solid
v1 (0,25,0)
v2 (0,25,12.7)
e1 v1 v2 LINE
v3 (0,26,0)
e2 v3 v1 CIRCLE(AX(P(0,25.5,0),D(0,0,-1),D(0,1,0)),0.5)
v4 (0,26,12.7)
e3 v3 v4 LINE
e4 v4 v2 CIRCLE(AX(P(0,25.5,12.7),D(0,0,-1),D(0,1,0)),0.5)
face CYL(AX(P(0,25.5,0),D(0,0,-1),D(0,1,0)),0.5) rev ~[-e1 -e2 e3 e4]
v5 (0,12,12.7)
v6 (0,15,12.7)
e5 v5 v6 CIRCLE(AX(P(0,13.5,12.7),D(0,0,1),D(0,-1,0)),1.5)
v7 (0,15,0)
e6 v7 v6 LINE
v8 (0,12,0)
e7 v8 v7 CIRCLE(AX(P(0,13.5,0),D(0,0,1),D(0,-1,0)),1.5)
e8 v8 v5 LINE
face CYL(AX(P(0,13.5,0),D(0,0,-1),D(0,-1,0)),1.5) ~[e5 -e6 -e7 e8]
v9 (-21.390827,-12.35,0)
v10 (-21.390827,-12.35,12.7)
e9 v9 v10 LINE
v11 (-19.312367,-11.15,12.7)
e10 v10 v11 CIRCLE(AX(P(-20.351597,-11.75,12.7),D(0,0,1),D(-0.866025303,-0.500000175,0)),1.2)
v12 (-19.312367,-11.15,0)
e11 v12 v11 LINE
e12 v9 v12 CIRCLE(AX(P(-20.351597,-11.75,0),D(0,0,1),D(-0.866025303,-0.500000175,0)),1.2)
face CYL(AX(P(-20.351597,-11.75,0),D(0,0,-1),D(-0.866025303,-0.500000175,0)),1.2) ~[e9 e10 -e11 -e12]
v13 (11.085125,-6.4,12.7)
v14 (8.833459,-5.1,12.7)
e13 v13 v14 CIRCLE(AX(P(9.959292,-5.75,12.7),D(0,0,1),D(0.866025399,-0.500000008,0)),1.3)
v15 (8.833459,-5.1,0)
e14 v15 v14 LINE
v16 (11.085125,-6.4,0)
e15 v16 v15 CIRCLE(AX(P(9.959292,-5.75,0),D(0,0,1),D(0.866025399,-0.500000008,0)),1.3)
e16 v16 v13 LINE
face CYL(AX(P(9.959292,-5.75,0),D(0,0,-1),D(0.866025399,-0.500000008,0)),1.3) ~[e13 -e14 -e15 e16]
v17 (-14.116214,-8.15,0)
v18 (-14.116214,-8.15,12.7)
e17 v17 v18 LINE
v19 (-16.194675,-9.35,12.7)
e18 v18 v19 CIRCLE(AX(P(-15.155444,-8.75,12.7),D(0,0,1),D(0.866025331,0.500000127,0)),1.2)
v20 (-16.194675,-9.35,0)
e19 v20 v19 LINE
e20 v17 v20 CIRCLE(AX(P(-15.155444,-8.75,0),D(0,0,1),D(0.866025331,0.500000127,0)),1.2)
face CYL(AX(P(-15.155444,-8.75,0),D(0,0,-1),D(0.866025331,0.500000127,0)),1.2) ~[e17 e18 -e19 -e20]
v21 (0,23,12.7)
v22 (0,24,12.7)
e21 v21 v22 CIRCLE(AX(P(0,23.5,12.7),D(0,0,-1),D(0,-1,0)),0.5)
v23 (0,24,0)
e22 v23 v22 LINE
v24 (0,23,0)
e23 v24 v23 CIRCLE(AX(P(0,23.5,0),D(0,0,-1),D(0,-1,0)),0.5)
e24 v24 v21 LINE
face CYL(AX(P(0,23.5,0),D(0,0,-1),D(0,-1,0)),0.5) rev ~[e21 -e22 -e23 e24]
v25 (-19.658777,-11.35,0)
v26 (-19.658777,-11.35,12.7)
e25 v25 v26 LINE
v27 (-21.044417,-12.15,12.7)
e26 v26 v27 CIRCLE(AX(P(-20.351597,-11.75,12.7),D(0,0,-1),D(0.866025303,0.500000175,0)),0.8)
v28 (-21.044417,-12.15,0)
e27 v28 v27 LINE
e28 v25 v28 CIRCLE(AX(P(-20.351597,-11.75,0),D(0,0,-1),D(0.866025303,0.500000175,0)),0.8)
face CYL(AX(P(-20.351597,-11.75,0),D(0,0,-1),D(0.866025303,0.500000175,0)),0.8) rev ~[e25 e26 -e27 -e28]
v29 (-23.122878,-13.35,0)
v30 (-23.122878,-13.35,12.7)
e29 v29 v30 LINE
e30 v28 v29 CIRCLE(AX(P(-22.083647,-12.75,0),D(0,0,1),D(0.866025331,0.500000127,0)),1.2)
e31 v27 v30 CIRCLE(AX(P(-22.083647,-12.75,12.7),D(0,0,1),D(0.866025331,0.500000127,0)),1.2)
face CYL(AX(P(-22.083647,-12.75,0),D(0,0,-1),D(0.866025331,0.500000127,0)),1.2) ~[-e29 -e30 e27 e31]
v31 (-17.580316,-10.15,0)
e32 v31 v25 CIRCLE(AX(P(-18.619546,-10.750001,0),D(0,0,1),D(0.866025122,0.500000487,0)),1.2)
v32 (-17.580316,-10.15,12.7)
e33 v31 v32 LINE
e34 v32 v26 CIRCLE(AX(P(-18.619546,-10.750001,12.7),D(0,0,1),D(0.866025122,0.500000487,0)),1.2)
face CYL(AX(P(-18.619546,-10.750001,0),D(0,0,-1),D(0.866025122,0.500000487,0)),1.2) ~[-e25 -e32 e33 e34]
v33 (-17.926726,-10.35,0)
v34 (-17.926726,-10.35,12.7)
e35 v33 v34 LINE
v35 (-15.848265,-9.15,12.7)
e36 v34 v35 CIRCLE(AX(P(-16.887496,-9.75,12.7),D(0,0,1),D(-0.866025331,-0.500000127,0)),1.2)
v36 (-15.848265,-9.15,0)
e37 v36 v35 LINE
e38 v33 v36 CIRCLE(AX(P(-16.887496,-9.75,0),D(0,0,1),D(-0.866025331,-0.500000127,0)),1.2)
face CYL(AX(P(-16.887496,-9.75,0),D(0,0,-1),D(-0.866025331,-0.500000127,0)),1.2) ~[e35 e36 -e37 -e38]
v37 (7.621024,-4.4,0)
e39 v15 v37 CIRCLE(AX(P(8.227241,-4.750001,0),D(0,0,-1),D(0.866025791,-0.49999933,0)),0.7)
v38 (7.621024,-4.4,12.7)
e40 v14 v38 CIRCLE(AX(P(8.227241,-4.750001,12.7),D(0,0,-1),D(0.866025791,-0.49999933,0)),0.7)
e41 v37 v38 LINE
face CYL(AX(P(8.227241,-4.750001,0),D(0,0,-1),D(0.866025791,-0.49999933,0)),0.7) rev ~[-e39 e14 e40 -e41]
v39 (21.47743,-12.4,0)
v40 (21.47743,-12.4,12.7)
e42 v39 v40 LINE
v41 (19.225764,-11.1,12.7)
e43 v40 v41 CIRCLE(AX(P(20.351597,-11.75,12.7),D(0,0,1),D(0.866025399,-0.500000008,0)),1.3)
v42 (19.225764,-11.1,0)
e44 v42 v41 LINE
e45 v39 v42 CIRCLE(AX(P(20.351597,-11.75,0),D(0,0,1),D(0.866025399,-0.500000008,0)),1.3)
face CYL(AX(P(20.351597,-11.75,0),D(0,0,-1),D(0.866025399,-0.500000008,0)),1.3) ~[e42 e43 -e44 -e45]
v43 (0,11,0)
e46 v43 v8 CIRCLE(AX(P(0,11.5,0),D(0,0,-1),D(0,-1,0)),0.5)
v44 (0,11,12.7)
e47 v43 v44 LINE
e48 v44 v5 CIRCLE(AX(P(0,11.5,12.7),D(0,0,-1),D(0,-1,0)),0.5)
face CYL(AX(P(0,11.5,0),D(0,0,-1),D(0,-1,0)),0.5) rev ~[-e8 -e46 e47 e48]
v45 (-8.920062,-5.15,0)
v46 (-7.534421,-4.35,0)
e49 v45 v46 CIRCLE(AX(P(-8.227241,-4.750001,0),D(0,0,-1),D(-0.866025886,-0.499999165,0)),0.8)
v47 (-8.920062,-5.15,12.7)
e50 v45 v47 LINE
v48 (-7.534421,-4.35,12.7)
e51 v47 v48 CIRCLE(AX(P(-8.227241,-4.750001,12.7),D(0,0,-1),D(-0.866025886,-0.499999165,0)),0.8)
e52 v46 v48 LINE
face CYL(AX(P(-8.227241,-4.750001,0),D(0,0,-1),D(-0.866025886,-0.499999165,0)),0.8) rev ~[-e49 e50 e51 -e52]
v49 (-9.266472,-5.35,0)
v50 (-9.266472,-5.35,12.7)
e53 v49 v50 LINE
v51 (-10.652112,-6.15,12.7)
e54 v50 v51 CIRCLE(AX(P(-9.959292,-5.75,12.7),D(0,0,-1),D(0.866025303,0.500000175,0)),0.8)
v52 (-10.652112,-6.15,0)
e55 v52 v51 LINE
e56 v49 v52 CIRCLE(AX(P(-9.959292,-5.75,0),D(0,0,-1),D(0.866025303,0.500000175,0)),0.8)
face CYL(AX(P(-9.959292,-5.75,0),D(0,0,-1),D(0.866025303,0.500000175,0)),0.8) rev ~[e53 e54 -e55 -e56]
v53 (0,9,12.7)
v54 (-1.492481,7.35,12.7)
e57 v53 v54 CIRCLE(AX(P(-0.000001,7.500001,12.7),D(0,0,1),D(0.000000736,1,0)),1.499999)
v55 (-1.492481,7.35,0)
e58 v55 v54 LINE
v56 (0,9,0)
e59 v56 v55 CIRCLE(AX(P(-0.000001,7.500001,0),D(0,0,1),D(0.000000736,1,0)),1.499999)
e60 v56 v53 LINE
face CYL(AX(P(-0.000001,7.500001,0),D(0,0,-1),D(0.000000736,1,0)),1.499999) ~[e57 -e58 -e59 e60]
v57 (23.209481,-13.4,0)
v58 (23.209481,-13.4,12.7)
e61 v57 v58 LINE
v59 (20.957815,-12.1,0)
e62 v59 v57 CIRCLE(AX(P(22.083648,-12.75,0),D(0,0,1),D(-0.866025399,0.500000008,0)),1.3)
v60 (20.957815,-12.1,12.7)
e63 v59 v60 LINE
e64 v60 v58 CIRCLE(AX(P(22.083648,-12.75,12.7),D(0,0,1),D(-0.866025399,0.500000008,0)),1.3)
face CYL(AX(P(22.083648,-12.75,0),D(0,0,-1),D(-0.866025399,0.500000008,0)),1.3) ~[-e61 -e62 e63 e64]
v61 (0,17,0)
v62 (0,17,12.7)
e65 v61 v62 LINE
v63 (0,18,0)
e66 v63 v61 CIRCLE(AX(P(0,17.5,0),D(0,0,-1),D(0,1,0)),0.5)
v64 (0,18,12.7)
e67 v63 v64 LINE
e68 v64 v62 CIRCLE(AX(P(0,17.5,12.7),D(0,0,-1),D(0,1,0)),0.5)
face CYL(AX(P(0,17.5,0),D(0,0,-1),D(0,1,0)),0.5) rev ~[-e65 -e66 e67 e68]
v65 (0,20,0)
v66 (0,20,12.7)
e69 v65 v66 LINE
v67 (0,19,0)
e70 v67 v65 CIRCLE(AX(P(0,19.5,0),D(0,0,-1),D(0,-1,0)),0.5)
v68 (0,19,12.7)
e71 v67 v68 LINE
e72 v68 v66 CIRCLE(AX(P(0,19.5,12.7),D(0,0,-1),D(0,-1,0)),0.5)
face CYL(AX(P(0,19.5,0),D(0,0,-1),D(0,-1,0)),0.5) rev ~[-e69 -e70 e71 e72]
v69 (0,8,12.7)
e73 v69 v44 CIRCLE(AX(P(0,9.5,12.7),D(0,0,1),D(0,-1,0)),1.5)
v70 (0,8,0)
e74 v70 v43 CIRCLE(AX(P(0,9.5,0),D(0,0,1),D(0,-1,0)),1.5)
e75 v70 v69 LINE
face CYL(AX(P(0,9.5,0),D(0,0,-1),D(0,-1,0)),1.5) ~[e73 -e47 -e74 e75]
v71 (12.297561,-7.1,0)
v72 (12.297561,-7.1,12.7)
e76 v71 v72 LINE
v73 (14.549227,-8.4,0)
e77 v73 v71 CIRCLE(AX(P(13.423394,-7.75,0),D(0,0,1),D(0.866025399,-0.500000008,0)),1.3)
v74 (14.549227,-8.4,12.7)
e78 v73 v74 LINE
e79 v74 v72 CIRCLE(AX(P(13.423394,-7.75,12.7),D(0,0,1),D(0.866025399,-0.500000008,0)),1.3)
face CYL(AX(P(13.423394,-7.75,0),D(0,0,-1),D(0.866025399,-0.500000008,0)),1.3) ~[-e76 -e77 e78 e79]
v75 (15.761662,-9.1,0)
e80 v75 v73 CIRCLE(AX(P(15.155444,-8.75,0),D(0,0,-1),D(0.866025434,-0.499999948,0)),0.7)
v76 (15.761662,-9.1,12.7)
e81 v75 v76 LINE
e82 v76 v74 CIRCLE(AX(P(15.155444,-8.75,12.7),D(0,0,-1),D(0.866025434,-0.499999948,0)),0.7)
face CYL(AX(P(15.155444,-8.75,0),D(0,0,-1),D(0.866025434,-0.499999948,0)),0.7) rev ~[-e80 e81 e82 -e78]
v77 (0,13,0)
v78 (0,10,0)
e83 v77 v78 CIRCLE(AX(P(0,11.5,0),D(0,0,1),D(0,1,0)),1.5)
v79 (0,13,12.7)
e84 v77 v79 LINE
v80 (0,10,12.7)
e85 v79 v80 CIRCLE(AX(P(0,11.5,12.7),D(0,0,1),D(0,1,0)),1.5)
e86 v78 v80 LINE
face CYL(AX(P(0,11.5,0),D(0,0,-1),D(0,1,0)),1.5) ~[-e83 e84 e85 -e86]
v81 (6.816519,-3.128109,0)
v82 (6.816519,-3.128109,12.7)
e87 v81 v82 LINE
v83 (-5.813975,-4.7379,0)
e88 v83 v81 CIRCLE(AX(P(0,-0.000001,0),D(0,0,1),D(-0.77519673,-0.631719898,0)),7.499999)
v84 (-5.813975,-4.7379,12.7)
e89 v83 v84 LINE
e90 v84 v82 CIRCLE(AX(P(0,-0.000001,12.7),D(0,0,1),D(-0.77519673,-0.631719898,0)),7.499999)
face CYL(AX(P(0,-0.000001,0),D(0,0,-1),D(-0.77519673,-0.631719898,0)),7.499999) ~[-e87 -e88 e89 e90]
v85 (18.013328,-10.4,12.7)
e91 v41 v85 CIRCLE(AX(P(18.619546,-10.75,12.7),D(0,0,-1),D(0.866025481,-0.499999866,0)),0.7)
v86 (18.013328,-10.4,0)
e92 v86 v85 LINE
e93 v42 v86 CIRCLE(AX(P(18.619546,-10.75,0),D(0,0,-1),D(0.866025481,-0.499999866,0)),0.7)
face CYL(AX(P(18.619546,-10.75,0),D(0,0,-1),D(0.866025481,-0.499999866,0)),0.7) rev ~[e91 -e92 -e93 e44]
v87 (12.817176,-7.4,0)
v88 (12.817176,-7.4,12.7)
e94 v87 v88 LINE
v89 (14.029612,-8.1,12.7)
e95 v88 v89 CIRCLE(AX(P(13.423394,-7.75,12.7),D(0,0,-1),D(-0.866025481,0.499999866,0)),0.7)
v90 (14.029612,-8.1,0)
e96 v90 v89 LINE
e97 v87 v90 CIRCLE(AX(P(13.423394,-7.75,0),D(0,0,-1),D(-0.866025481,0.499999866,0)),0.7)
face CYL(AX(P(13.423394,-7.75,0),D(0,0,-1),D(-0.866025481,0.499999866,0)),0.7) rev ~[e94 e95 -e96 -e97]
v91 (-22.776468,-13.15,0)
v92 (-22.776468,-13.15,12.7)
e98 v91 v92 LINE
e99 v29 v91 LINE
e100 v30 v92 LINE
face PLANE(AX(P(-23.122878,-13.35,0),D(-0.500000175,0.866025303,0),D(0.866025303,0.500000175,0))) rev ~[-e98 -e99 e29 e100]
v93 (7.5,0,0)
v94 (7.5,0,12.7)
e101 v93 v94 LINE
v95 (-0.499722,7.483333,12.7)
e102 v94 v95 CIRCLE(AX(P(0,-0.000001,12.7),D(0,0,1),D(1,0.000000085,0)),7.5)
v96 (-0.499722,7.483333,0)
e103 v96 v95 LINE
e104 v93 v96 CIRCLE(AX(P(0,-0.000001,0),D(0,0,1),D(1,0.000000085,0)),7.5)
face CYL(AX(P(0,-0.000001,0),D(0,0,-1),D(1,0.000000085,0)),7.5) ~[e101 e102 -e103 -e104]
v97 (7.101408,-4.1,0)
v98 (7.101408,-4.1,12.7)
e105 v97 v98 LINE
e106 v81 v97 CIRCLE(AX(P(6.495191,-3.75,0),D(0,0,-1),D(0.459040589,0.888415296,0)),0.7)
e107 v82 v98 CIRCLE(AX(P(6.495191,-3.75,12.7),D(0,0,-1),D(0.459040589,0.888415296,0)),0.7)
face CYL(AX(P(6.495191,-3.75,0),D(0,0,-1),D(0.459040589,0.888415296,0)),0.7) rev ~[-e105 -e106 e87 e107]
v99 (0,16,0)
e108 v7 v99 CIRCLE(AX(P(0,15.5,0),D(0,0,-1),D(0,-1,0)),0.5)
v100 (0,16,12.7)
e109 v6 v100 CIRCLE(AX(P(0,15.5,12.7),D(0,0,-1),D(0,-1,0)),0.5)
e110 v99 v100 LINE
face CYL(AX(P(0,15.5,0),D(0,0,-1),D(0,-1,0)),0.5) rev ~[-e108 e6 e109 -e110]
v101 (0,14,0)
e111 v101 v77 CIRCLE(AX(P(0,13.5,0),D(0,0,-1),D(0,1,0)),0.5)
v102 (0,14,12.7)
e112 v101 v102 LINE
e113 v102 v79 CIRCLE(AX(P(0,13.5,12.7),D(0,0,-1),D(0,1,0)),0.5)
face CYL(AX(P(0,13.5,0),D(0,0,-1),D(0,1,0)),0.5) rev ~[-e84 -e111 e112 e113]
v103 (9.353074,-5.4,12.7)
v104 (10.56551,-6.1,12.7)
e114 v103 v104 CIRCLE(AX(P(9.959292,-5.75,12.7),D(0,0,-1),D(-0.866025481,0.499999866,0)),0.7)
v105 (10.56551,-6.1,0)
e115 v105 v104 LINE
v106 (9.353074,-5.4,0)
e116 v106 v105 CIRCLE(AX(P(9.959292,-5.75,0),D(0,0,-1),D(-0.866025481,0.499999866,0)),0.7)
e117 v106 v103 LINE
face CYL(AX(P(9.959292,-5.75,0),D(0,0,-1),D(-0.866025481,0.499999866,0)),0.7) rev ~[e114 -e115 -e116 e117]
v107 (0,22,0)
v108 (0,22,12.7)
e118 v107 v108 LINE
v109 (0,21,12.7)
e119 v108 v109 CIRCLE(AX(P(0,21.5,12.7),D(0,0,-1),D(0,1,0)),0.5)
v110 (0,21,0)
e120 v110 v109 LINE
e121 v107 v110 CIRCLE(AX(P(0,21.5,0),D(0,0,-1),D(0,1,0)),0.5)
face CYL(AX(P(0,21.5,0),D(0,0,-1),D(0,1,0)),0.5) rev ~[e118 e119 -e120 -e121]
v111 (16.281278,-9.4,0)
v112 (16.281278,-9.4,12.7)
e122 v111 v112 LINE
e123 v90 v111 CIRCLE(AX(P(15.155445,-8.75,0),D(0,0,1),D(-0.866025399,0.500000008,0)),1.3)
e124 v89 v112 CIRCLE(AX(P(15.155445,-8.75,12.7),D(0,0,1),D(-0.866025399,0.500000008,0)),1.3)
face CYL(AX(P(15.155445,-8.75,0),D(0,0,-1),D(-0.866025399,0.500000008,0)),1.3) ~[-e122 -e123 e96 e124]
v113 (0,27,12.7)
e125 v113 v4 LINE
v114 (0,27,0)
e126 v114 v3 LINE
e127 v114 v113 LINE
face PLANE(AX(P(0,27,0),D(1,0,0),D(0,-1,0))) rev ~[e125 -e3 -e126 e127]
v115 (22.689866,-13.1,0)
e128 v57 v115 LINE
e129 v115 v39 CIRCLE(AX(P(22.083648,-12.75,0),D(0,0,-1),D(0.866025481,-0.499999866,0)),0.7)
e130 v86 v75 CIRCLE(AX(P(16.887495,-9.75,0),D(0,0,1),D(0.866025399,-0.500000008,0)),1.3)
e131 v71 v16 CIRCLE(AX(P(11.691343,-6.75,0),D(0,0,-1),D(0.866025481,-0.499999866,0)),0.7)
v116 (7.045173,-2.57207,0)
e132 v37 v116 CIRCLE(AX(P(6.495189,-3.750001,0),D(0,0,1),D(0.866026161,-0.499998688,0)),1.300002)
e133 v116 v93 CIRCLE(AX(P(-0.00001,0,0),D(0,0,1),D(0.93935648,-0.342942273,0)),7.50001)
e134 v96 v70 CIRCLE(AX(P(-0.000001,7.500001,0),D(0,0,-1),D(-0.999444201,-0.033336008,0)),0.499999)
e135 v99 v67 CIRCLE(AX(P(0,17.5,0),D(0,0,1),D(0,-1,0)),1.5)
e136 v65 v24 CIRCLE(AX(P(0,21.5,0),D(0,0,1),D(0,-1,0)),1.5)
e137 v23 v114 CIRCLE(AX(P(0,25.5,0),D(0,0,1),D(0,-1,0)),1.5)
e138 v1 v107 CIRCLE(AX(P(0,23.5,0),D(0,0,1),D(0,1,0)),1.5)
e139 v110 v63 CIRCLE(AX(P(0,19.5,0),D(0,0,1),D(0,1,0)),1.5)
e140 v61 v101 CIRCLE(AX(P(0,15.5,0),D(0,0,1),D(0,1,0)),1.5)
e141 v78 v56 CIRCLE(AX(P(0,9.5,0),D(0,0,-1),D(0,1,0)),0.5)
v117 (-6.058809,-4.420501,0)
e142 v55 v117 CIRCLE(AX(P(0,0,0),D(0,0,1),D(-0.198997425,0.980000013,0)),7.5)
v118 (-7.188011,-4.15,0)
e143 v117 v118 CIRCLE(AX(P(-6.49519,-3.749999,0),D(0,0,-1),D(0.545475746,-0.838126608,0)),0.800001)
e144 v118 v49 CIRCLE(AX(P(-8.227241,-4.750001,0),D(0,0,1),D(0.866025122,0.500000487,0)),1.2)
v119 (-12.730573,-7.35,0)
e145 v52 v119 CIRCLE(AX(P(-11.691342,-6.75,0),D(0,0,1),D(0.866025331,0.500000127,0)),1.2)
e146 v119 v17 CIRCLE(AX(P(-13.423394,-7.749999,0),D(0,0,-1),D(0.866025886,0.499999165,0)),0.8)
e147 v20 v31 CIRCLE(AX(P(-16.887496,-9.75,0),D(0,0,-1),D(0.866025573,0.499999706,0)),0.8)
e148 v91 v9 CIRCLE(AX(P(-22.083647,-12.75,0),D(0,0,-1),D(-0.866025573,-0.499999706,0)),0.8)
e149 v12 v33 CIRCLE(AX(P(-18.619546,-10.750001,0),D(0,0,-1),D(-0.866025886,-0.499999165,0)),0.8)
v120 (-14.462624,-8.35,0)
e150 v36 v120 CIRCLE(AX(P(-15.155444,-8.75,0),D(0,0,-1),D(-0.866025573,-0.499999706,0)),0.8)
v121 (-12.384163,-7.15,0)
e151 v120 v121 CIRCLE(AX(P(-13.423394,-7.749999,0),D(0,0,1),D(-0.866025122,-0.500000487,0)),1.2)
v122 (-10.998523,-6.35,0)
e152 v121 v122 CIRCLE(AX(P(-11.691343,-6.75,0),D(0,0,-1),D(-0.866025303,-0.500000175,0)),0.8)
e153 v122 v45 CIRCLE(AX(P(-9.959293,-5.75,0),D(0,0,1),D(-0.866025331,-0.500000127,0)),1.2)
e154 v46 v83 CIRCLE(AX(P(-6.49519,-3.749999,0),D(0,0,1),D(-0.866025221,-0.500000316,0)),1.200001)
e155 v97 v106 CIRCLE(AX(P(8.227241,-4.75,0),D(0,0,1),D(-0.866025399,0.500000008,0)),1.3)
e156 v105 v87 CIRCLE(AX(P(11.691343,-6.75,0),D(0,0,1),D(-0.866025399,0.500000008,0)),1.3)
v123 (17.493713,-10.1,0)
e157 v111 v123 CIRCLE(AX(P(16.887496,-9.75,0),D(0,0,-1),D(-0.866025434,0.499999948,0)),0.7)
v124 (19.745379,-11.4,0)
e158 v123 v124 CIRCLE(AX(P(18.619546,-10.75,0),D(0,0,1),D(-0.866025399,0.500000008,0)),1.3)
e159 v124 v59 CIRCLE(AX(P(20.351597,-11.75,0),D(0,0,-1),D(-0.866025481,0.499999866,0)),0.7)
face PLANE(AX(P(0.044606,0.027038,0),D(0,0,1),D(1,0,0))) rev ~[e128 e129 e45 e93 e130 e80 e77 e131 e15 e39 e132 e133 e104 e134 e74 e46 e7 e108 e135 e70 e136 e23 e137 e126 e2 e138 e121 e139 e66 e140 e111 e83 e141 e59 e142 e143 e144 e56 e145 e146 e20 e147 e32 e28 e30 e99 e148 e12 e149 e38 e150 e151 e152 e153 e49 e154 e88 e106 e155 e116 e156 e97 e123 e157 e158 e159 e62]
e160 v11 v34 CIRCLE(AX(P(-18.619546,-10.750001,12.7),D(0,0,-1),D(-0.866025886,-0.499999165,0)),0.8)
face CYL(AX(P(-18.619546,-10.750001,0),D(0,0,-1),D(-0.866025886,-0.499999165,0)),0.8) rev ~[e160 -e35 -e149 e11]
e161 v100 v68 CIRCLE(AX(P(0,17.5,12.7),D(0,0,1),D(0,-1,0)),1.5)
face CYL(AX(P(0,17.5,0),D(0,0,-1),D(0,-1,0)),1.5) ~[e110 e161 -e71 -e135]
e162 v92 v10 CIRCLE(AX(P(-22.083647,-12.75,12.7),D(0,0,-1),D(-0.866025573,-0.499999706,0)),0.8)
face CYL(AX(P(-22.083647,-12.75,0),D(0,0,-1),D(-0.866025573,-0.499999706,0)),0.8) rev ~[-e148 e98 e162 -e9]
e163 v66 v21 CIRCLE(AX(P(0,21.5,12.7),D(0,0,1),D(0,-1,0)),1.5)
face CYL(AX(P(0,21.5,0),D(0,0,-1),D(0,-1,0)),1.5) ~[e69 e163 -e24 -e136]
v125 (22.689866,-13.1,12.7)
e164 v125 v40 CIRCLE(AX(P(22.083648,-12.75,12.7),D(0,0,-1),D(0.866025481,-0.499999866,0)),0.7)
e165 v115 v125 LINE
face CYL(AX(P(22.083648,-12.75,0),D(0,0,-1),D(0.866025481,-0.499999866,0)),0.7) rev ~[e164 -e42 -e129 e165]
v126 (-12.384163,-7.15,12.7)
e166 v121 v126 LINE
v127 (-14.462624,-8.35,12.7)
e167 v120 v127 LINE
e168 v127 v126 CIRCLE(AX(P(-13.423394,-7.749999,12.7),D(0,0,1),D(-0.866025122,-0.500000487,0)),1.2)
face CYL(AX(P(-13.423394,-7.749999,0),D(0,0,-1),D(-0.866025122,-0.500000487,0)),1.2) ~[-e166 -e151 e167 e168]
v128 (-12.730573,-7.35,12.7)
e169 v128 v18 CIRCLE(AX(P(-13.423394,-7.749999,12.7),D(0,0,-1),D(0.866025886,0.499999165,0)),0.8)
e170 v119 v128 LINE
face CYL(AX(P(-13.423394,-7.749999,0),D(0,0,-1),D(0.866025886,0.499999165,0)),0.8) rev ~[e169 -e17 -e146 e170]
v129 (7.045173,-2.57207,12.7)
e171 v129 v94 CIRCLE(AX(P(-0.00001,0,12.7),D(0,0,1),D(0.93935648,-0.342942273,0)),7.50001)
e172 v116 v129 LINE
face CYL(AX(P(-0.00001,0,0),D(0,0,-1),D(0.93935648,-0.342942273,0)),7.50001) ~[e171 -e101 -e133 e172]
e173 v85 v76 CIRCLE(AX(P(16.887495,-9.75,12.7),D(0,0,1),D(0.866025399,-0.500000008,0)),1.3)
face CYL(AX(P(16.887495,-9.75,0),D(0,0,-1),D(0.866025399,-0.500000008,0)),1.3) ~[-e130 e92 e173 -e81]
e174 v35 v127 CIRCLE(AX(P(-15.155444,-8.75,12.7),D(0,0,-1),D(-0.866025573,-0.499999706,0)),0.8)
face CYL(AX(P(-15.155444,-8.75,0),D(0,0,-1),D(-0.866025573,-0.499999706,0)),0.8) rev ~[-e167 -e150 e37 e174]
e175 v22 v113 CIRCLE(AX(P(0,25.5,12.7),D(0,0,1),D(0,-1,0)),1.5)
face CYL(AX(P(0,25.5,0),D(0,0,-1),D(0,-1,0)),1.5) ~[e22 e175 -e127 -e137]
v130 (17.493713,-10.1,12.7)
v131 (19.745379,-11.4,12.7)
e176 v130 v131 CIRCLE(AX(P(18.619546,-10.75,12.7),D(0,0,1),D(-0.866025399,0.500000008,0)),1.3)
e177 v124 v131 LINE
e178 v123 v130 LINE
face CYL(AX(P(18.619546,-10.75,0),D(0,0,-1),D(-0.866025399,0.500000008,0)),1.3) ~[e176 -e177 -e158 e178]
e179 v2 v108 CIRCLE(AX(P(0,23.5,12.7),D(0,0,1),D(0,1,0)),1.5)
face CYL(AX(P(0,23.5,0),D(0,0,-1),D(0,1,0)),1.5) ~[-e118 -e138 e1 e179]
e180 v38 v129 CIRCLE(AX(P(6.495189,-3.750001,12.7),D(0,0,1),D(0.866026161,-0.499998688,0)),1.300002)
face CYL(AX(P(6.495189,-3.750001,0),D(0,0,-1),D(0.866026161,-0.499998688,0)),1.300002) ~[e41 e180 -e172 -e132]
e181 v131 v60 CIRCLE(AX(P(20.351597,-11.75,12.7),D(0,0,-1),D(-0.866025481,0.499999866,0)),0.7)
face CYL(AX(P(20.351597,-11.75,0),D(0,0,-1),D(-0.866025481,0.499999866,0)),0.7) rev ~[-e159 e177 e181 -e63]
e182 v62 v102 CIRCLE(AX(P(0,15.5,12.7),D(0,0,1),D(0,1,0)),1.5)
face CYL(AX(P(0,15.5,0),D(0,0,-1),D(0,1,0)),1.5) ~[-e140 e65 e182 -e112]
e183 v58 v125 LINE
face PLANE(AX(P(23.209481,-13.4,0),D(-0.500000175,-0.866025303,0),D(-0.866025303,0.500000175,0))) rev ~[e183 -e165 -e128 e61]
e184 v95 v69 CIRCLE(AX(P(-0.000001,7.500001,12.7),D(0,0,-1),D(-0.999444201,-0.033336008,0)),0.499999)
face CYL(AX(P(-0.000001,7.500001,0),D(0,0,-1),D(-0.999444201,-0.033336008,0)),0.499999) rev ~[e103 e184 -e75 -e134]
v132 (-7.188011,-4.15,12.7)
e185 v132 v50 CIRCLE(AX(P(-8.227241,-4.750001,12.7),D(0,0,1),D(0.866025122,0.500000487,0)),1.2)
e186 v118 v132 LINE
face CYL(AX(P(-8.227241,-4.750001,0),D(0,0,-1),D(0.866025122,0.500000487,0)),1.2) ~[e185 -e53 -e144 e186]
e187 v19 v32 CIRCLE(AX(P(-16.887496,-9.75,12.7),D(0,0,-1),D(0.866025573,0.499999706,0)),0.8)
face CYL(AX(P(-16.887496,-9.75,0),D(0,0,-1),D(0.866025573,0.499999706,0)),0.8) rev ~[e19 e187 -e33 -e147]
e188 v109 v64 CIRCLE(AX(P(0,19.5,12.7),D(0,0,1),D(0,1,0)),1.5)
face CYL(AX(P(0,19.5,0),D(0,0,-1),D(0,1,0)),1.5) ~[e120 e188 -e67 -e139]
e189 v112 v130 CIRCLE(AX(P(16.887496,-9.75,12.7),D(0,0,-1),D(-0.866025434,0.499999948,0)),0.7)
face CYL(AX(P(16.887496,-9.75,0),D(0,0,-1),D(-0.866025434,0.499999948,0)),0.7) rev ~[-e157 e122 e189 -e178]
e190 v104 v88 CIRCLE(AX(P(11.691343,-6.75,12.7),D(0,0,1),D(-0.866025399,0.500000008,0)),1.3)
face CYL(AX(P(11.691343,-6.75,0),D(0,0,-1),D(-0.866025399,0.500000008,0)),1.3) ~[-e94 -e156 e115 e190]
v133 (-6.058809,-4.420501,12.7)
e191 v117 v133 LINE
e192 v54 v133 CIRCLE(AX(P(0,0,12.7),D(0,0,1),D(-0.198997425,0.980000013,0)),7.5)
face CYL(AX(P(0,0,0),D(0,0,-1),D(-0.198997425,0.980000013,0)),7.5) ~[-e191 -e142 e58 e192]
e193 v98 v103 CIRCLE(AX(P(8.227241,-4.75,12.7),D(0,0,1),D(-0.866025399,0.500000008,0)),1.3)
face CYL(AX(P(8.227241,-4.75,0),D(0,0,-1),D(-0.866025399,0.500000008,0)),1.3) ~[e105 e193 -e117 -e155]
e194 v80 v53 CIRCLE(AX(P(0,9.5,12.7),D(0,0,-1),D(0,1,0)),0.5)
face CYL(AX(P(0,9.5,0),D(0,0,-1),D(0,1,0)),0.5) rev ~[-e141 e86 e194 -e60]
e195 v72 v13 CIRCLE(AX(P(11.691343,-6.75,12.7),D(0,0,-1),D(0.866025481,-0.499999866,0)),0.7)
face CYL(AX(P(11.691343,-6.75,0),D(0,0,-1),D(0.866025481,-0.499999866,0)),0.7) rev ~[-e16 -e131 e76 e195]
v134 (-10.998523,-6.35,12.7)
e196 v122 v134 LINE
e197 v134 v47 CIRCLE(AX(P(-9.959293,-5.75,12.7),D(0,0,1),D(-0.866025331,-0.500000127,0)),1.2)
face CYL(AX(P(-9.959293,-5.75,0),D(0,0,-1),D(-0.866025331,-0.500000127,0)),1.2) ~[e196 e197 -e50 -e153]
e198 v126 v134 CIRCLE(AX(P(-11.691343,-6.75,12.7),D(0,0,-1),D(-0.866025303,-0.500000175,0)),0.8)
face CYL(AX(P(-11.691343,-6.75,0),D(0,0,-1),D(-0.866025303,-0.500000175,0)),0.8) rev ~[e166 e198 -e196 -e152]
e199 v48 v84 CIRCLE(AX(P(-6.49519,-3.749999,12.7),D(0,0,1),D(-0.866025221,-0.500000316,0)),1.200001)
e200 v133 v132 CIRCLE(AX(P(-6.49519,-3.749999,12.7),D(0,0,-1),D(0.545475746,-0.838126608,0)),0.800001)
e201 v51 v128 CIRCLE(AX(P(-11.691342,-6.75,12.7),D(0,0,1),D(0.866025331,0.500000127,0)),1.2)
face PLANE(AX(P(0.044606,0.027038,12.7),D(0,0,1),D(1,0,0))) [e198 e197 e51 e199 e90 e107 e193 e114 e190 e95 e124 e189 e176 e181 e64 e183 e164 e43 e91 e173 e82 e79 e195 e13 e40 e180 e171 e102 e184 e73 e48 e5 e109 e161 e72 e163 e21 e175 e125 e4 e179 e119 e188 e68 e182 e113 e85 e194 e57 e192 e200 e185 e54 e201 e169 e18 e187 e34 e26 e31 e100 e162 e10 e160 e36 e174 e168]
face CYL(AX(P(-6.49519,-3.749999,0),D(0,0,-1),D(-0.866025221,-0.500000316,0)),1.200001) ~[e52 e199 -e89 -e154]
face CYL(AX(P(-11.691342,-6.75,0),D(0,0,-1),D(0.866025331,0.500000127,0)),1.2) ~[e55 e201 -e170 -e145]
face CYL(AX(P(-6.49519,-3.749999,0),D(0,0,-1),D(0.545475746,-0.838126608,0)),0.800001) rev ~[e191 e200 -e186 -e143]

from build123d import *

# Parameters (mm, degrees)
F1_DEPTH = 12.7


with BuildPart() as f1:
    # F0 (on Top) → F1 (new body)
    with BuildSketch(Plane.XY):
        with BuildLine():
            ThreePointArc((7.045173, -2.57207), (7.385418, -1.305987), (7.5, 0))
            ThreePointArc((7.5, 0), (5.123577, 5.47713), (-0.499722, 7.483333))
            ThreePointArc((-0.499722, 7.483333), (-0.99833, 7.433259), (-1.492481, 7.35))
            ThreePointArc((-1.492481, 7.35), (-6.992258, 2.712624), (-6.058809, -4.420501))
            ThreePointArc((-6.058809, -4.420501), (-5.938513, -4.580836), (-5.813975, -4.7379))
            ThreePointArc((-5.813975, -4.7379), (0.948225, -7.439817), (6.816519, -3.128109))
            ThreePointArc((6.816519, -3.128109), (6.93642, -2.852382), (7.045173, -2.57207))
        make_face()
        with BuildLine():
            ThreePointArc((-1.492481, 7.35), (-0.99833, 7.433259), (-0.499722, 7.483333))
            ThreePointArc((-0.499722, 7.483333), (-0.359398, 7.847611), (0, 8))
            ThreePointArc((0, 8), (1.5, 9.5), (0, 11))
            ThreePointArc((0, 11), (-0.5, 11.5), (0, 12))
            ThreePointArc((0, 12), (1.5, 13.5), (0, 15))
            ThreePointArc((0, 15), (-0.5, 15.5), (0, 16))
            ThreePointArc((0, 16), (1.5, 17.5), (0, 19))
            ThreePointArc((0, 19), (-0.5, 19.5), (0, 20))
            ThreePointArc((0, 20), (1.5, 21.5), (0, 23))
            ThreePointArc((0, 23), (-0.5, 23.5), (0, 24))
            ThreePointArc((0, 24), (1.5, 25.5), (0, 27))
            Line((0, 27), (0, 26))
            ThreePointArc((0, 26), (0.5, 25.5), (0, 25))
            ThreePointArc((0, 25), (-1.5, 23.5), (0, 22))
            ThreePointArc((0, 22), (0.5, 21.5), (0, 21))
            ThreePointArc((0, 21), (-1.5, 19.5), (0, 18))
            ThreePointArc((0, 18), (0.5, 17.5), (0, 17))
            ThreePointArc((0, 17), (-1.5, 15.5), (0, 14))
            ThreePointArc((0, 14), (0.5, 13.5), (0, 13))
            ThreePointArc((0, 13), (-1.5, 11.5), (0, 10))
            ThreePointArc((0, 10), (0.5, 9.5), (0, 9))
            ThreePointArc((0, 9), (-1.11243, 8.506231), (-1.492481, 7.35))
        make_face()
        with BuildLine():
            ThreePointArc((7.621024, -4.4), (7.735118, -3.359387), (7.045173, -2.57207))
            ThreePointArc((7.045173, -2.57207), (6.93642, -2.852382), (6.816519, -3.128109))
            ThreePointArc((6.816519, -3.128109), (7.166926, -3.553095), (7.101408, -4.1))
            ThreePointArc((7.101408, -4.1), (7.577241, -5.875833), (9.353074, -5.4))
            ThreePointArc((9.353074, -5.4), (10.309292, -5.143782), (10.56551, -6.1))
            ThreePointArc((10.56551, -6.1), (11.041343, -7.875833), (12.817176, -7.4))
            ThreePointArc((12.817176, -7.4), (13.773394, -7.143782), (14.029612, -8.1))
            ThreePointArc((14.029612, -8.1), (14.505445, -9.875833), (16.281278, -9.4))
            ThreePointArc((16.281278, -9.4), (17.237495, -9.143782), (17.493713, -10.1))
            ThreePointArc((17.493713, -10.1), (17.969546, -11.875833), (19.745379, -11.4))
            ThreePointArc((19.745379, -11.4), (20.701597, -11.143782), (20.957815, -12.1))
            ThreePointArc((20.957815, -12.1), (21.433648, -13.875833), (23.209481, -13.4))
            Line((23.209481, -13.4), (22.689866, -13.1))
            ThreePointArc((22.689866, -13.1), (21.733648, -13.356218), (21.47743, -12.4))
            ThreePointArc((21.47743, -12.4), (21.001597, -10.624167), (19.225764, -11.1))
            ThreePointArc((19.225764, -11.1), (18.269546, -11.356218), (18.013328, -10.4))
            ThreePointArc((18.013328, -10.4), (17.537495, -8.624167), (15.761662, -9.1))
            ThreePointArc((15.761662, -9.1), (14.805445, -9.356218), (14.549227, -8.4))
            ThreePointArc((14.549227, -8.4), (14.073394, -6.624167), (12.297561, -7.1))
            ThreePointArc((12.297561, -7.1), (11.341343, -7.356218), (11.085125, -6.4))
            ThreePointArc((11.085125, -6.4), (10.609292, -4.624167), (8.833459, -5.1))
            ThreePointArc((8.833459, -5.1), (7.877241, -5.356218), (7.621024, -4.4))
        make_face()
        with BuildLine():
            ThreePointArc((-5.813975, -4.7379), (-5.938513, -4.580836), (-6.058809, -4.420501))
            ThreePointArc((-6.058809, -4.420501), (-6.681558, -4.527989), (-7.188011, -4.15))
            ThreePointArc((-7.188011, -4.15), (-8.827241, -3.71077), (-9.266472, -5.35))
            ThreePointArc((-9.266472, -5.35), (-9.559292, -6.44282), (-10.652112, -6.15))
            ThreePointArc((-10.652112, -6.15), (-12.291343, -5.71077), (-12.730573, -7.35))
            ThreePointArc((-12.730573, -7.35), (-13.023394, -8.44282), (-14.116214, -8.15))
            ThreePointArc((-14.116214, -8.15), (-15.755445, -7.71077), (-16.194675, -9.35))
            ThreePointArc((-16.194675, -9.35), (-16.487495, -10.44282), (-17.580316, -10.15))
            ThreePointArc((-17.580316, -10.15), (-19.219546, -9.71077), (-19.658777, -11.35))
            ThreePointArc((-19.658777, -11.35), (-19.951597, -12.44282), (-21.044417, -12.15))
            ThreePointArc((-21.044417, -12.15), (-22.683648, -11.71077), (-23.122878, -13.35))
            Line((-23.122878, -13.35), (-22.776468, -13.15))
            ThreePointArc((-22.776468, -13.15), (-22.483648, -12.05718), (-21.390827, -12.35))
            ThreePointArc((-21.390827, -12.35), (-19.751597, -12.78923), (-19.312367, -11.15))
            ThreePointArc((-19.312367, -11.15), (-19.019546, -10.05718), (-17.926726, -10.35))
            ThreePointArc((-17.926726, -10.35), (-16.287495, -10.78923), (-15.848265, -9.15))
            ThreePointArc((-15.848265, -9.15), (-15.555445, -8.05718), (-14.462624, -8.35))
            ThreePointArc((-14.462624, -8.35), (-12.823394, -8.78923), (-12.384163, -7.15))
            ThreePointArc((-12.384163, -7.15), (-12.091343, -6.05718), (-10.998523, -6.35))
            ThreePointArc((-10.998523, -6.35), (-9.359292, -6.78923), (-8.920062, -5.15))
            ThreePointArc((-8.920062, -5.15), (-8.627241, -4.05718), (-7.534421, -4.35))
            ThreePointArc((-7.534421, -4.35), (-6.759123, -4.920615), (-5.813975, -4.7379))
        make_face()
    extrude(amount=F1_DEPTH)


solid = f1.part
